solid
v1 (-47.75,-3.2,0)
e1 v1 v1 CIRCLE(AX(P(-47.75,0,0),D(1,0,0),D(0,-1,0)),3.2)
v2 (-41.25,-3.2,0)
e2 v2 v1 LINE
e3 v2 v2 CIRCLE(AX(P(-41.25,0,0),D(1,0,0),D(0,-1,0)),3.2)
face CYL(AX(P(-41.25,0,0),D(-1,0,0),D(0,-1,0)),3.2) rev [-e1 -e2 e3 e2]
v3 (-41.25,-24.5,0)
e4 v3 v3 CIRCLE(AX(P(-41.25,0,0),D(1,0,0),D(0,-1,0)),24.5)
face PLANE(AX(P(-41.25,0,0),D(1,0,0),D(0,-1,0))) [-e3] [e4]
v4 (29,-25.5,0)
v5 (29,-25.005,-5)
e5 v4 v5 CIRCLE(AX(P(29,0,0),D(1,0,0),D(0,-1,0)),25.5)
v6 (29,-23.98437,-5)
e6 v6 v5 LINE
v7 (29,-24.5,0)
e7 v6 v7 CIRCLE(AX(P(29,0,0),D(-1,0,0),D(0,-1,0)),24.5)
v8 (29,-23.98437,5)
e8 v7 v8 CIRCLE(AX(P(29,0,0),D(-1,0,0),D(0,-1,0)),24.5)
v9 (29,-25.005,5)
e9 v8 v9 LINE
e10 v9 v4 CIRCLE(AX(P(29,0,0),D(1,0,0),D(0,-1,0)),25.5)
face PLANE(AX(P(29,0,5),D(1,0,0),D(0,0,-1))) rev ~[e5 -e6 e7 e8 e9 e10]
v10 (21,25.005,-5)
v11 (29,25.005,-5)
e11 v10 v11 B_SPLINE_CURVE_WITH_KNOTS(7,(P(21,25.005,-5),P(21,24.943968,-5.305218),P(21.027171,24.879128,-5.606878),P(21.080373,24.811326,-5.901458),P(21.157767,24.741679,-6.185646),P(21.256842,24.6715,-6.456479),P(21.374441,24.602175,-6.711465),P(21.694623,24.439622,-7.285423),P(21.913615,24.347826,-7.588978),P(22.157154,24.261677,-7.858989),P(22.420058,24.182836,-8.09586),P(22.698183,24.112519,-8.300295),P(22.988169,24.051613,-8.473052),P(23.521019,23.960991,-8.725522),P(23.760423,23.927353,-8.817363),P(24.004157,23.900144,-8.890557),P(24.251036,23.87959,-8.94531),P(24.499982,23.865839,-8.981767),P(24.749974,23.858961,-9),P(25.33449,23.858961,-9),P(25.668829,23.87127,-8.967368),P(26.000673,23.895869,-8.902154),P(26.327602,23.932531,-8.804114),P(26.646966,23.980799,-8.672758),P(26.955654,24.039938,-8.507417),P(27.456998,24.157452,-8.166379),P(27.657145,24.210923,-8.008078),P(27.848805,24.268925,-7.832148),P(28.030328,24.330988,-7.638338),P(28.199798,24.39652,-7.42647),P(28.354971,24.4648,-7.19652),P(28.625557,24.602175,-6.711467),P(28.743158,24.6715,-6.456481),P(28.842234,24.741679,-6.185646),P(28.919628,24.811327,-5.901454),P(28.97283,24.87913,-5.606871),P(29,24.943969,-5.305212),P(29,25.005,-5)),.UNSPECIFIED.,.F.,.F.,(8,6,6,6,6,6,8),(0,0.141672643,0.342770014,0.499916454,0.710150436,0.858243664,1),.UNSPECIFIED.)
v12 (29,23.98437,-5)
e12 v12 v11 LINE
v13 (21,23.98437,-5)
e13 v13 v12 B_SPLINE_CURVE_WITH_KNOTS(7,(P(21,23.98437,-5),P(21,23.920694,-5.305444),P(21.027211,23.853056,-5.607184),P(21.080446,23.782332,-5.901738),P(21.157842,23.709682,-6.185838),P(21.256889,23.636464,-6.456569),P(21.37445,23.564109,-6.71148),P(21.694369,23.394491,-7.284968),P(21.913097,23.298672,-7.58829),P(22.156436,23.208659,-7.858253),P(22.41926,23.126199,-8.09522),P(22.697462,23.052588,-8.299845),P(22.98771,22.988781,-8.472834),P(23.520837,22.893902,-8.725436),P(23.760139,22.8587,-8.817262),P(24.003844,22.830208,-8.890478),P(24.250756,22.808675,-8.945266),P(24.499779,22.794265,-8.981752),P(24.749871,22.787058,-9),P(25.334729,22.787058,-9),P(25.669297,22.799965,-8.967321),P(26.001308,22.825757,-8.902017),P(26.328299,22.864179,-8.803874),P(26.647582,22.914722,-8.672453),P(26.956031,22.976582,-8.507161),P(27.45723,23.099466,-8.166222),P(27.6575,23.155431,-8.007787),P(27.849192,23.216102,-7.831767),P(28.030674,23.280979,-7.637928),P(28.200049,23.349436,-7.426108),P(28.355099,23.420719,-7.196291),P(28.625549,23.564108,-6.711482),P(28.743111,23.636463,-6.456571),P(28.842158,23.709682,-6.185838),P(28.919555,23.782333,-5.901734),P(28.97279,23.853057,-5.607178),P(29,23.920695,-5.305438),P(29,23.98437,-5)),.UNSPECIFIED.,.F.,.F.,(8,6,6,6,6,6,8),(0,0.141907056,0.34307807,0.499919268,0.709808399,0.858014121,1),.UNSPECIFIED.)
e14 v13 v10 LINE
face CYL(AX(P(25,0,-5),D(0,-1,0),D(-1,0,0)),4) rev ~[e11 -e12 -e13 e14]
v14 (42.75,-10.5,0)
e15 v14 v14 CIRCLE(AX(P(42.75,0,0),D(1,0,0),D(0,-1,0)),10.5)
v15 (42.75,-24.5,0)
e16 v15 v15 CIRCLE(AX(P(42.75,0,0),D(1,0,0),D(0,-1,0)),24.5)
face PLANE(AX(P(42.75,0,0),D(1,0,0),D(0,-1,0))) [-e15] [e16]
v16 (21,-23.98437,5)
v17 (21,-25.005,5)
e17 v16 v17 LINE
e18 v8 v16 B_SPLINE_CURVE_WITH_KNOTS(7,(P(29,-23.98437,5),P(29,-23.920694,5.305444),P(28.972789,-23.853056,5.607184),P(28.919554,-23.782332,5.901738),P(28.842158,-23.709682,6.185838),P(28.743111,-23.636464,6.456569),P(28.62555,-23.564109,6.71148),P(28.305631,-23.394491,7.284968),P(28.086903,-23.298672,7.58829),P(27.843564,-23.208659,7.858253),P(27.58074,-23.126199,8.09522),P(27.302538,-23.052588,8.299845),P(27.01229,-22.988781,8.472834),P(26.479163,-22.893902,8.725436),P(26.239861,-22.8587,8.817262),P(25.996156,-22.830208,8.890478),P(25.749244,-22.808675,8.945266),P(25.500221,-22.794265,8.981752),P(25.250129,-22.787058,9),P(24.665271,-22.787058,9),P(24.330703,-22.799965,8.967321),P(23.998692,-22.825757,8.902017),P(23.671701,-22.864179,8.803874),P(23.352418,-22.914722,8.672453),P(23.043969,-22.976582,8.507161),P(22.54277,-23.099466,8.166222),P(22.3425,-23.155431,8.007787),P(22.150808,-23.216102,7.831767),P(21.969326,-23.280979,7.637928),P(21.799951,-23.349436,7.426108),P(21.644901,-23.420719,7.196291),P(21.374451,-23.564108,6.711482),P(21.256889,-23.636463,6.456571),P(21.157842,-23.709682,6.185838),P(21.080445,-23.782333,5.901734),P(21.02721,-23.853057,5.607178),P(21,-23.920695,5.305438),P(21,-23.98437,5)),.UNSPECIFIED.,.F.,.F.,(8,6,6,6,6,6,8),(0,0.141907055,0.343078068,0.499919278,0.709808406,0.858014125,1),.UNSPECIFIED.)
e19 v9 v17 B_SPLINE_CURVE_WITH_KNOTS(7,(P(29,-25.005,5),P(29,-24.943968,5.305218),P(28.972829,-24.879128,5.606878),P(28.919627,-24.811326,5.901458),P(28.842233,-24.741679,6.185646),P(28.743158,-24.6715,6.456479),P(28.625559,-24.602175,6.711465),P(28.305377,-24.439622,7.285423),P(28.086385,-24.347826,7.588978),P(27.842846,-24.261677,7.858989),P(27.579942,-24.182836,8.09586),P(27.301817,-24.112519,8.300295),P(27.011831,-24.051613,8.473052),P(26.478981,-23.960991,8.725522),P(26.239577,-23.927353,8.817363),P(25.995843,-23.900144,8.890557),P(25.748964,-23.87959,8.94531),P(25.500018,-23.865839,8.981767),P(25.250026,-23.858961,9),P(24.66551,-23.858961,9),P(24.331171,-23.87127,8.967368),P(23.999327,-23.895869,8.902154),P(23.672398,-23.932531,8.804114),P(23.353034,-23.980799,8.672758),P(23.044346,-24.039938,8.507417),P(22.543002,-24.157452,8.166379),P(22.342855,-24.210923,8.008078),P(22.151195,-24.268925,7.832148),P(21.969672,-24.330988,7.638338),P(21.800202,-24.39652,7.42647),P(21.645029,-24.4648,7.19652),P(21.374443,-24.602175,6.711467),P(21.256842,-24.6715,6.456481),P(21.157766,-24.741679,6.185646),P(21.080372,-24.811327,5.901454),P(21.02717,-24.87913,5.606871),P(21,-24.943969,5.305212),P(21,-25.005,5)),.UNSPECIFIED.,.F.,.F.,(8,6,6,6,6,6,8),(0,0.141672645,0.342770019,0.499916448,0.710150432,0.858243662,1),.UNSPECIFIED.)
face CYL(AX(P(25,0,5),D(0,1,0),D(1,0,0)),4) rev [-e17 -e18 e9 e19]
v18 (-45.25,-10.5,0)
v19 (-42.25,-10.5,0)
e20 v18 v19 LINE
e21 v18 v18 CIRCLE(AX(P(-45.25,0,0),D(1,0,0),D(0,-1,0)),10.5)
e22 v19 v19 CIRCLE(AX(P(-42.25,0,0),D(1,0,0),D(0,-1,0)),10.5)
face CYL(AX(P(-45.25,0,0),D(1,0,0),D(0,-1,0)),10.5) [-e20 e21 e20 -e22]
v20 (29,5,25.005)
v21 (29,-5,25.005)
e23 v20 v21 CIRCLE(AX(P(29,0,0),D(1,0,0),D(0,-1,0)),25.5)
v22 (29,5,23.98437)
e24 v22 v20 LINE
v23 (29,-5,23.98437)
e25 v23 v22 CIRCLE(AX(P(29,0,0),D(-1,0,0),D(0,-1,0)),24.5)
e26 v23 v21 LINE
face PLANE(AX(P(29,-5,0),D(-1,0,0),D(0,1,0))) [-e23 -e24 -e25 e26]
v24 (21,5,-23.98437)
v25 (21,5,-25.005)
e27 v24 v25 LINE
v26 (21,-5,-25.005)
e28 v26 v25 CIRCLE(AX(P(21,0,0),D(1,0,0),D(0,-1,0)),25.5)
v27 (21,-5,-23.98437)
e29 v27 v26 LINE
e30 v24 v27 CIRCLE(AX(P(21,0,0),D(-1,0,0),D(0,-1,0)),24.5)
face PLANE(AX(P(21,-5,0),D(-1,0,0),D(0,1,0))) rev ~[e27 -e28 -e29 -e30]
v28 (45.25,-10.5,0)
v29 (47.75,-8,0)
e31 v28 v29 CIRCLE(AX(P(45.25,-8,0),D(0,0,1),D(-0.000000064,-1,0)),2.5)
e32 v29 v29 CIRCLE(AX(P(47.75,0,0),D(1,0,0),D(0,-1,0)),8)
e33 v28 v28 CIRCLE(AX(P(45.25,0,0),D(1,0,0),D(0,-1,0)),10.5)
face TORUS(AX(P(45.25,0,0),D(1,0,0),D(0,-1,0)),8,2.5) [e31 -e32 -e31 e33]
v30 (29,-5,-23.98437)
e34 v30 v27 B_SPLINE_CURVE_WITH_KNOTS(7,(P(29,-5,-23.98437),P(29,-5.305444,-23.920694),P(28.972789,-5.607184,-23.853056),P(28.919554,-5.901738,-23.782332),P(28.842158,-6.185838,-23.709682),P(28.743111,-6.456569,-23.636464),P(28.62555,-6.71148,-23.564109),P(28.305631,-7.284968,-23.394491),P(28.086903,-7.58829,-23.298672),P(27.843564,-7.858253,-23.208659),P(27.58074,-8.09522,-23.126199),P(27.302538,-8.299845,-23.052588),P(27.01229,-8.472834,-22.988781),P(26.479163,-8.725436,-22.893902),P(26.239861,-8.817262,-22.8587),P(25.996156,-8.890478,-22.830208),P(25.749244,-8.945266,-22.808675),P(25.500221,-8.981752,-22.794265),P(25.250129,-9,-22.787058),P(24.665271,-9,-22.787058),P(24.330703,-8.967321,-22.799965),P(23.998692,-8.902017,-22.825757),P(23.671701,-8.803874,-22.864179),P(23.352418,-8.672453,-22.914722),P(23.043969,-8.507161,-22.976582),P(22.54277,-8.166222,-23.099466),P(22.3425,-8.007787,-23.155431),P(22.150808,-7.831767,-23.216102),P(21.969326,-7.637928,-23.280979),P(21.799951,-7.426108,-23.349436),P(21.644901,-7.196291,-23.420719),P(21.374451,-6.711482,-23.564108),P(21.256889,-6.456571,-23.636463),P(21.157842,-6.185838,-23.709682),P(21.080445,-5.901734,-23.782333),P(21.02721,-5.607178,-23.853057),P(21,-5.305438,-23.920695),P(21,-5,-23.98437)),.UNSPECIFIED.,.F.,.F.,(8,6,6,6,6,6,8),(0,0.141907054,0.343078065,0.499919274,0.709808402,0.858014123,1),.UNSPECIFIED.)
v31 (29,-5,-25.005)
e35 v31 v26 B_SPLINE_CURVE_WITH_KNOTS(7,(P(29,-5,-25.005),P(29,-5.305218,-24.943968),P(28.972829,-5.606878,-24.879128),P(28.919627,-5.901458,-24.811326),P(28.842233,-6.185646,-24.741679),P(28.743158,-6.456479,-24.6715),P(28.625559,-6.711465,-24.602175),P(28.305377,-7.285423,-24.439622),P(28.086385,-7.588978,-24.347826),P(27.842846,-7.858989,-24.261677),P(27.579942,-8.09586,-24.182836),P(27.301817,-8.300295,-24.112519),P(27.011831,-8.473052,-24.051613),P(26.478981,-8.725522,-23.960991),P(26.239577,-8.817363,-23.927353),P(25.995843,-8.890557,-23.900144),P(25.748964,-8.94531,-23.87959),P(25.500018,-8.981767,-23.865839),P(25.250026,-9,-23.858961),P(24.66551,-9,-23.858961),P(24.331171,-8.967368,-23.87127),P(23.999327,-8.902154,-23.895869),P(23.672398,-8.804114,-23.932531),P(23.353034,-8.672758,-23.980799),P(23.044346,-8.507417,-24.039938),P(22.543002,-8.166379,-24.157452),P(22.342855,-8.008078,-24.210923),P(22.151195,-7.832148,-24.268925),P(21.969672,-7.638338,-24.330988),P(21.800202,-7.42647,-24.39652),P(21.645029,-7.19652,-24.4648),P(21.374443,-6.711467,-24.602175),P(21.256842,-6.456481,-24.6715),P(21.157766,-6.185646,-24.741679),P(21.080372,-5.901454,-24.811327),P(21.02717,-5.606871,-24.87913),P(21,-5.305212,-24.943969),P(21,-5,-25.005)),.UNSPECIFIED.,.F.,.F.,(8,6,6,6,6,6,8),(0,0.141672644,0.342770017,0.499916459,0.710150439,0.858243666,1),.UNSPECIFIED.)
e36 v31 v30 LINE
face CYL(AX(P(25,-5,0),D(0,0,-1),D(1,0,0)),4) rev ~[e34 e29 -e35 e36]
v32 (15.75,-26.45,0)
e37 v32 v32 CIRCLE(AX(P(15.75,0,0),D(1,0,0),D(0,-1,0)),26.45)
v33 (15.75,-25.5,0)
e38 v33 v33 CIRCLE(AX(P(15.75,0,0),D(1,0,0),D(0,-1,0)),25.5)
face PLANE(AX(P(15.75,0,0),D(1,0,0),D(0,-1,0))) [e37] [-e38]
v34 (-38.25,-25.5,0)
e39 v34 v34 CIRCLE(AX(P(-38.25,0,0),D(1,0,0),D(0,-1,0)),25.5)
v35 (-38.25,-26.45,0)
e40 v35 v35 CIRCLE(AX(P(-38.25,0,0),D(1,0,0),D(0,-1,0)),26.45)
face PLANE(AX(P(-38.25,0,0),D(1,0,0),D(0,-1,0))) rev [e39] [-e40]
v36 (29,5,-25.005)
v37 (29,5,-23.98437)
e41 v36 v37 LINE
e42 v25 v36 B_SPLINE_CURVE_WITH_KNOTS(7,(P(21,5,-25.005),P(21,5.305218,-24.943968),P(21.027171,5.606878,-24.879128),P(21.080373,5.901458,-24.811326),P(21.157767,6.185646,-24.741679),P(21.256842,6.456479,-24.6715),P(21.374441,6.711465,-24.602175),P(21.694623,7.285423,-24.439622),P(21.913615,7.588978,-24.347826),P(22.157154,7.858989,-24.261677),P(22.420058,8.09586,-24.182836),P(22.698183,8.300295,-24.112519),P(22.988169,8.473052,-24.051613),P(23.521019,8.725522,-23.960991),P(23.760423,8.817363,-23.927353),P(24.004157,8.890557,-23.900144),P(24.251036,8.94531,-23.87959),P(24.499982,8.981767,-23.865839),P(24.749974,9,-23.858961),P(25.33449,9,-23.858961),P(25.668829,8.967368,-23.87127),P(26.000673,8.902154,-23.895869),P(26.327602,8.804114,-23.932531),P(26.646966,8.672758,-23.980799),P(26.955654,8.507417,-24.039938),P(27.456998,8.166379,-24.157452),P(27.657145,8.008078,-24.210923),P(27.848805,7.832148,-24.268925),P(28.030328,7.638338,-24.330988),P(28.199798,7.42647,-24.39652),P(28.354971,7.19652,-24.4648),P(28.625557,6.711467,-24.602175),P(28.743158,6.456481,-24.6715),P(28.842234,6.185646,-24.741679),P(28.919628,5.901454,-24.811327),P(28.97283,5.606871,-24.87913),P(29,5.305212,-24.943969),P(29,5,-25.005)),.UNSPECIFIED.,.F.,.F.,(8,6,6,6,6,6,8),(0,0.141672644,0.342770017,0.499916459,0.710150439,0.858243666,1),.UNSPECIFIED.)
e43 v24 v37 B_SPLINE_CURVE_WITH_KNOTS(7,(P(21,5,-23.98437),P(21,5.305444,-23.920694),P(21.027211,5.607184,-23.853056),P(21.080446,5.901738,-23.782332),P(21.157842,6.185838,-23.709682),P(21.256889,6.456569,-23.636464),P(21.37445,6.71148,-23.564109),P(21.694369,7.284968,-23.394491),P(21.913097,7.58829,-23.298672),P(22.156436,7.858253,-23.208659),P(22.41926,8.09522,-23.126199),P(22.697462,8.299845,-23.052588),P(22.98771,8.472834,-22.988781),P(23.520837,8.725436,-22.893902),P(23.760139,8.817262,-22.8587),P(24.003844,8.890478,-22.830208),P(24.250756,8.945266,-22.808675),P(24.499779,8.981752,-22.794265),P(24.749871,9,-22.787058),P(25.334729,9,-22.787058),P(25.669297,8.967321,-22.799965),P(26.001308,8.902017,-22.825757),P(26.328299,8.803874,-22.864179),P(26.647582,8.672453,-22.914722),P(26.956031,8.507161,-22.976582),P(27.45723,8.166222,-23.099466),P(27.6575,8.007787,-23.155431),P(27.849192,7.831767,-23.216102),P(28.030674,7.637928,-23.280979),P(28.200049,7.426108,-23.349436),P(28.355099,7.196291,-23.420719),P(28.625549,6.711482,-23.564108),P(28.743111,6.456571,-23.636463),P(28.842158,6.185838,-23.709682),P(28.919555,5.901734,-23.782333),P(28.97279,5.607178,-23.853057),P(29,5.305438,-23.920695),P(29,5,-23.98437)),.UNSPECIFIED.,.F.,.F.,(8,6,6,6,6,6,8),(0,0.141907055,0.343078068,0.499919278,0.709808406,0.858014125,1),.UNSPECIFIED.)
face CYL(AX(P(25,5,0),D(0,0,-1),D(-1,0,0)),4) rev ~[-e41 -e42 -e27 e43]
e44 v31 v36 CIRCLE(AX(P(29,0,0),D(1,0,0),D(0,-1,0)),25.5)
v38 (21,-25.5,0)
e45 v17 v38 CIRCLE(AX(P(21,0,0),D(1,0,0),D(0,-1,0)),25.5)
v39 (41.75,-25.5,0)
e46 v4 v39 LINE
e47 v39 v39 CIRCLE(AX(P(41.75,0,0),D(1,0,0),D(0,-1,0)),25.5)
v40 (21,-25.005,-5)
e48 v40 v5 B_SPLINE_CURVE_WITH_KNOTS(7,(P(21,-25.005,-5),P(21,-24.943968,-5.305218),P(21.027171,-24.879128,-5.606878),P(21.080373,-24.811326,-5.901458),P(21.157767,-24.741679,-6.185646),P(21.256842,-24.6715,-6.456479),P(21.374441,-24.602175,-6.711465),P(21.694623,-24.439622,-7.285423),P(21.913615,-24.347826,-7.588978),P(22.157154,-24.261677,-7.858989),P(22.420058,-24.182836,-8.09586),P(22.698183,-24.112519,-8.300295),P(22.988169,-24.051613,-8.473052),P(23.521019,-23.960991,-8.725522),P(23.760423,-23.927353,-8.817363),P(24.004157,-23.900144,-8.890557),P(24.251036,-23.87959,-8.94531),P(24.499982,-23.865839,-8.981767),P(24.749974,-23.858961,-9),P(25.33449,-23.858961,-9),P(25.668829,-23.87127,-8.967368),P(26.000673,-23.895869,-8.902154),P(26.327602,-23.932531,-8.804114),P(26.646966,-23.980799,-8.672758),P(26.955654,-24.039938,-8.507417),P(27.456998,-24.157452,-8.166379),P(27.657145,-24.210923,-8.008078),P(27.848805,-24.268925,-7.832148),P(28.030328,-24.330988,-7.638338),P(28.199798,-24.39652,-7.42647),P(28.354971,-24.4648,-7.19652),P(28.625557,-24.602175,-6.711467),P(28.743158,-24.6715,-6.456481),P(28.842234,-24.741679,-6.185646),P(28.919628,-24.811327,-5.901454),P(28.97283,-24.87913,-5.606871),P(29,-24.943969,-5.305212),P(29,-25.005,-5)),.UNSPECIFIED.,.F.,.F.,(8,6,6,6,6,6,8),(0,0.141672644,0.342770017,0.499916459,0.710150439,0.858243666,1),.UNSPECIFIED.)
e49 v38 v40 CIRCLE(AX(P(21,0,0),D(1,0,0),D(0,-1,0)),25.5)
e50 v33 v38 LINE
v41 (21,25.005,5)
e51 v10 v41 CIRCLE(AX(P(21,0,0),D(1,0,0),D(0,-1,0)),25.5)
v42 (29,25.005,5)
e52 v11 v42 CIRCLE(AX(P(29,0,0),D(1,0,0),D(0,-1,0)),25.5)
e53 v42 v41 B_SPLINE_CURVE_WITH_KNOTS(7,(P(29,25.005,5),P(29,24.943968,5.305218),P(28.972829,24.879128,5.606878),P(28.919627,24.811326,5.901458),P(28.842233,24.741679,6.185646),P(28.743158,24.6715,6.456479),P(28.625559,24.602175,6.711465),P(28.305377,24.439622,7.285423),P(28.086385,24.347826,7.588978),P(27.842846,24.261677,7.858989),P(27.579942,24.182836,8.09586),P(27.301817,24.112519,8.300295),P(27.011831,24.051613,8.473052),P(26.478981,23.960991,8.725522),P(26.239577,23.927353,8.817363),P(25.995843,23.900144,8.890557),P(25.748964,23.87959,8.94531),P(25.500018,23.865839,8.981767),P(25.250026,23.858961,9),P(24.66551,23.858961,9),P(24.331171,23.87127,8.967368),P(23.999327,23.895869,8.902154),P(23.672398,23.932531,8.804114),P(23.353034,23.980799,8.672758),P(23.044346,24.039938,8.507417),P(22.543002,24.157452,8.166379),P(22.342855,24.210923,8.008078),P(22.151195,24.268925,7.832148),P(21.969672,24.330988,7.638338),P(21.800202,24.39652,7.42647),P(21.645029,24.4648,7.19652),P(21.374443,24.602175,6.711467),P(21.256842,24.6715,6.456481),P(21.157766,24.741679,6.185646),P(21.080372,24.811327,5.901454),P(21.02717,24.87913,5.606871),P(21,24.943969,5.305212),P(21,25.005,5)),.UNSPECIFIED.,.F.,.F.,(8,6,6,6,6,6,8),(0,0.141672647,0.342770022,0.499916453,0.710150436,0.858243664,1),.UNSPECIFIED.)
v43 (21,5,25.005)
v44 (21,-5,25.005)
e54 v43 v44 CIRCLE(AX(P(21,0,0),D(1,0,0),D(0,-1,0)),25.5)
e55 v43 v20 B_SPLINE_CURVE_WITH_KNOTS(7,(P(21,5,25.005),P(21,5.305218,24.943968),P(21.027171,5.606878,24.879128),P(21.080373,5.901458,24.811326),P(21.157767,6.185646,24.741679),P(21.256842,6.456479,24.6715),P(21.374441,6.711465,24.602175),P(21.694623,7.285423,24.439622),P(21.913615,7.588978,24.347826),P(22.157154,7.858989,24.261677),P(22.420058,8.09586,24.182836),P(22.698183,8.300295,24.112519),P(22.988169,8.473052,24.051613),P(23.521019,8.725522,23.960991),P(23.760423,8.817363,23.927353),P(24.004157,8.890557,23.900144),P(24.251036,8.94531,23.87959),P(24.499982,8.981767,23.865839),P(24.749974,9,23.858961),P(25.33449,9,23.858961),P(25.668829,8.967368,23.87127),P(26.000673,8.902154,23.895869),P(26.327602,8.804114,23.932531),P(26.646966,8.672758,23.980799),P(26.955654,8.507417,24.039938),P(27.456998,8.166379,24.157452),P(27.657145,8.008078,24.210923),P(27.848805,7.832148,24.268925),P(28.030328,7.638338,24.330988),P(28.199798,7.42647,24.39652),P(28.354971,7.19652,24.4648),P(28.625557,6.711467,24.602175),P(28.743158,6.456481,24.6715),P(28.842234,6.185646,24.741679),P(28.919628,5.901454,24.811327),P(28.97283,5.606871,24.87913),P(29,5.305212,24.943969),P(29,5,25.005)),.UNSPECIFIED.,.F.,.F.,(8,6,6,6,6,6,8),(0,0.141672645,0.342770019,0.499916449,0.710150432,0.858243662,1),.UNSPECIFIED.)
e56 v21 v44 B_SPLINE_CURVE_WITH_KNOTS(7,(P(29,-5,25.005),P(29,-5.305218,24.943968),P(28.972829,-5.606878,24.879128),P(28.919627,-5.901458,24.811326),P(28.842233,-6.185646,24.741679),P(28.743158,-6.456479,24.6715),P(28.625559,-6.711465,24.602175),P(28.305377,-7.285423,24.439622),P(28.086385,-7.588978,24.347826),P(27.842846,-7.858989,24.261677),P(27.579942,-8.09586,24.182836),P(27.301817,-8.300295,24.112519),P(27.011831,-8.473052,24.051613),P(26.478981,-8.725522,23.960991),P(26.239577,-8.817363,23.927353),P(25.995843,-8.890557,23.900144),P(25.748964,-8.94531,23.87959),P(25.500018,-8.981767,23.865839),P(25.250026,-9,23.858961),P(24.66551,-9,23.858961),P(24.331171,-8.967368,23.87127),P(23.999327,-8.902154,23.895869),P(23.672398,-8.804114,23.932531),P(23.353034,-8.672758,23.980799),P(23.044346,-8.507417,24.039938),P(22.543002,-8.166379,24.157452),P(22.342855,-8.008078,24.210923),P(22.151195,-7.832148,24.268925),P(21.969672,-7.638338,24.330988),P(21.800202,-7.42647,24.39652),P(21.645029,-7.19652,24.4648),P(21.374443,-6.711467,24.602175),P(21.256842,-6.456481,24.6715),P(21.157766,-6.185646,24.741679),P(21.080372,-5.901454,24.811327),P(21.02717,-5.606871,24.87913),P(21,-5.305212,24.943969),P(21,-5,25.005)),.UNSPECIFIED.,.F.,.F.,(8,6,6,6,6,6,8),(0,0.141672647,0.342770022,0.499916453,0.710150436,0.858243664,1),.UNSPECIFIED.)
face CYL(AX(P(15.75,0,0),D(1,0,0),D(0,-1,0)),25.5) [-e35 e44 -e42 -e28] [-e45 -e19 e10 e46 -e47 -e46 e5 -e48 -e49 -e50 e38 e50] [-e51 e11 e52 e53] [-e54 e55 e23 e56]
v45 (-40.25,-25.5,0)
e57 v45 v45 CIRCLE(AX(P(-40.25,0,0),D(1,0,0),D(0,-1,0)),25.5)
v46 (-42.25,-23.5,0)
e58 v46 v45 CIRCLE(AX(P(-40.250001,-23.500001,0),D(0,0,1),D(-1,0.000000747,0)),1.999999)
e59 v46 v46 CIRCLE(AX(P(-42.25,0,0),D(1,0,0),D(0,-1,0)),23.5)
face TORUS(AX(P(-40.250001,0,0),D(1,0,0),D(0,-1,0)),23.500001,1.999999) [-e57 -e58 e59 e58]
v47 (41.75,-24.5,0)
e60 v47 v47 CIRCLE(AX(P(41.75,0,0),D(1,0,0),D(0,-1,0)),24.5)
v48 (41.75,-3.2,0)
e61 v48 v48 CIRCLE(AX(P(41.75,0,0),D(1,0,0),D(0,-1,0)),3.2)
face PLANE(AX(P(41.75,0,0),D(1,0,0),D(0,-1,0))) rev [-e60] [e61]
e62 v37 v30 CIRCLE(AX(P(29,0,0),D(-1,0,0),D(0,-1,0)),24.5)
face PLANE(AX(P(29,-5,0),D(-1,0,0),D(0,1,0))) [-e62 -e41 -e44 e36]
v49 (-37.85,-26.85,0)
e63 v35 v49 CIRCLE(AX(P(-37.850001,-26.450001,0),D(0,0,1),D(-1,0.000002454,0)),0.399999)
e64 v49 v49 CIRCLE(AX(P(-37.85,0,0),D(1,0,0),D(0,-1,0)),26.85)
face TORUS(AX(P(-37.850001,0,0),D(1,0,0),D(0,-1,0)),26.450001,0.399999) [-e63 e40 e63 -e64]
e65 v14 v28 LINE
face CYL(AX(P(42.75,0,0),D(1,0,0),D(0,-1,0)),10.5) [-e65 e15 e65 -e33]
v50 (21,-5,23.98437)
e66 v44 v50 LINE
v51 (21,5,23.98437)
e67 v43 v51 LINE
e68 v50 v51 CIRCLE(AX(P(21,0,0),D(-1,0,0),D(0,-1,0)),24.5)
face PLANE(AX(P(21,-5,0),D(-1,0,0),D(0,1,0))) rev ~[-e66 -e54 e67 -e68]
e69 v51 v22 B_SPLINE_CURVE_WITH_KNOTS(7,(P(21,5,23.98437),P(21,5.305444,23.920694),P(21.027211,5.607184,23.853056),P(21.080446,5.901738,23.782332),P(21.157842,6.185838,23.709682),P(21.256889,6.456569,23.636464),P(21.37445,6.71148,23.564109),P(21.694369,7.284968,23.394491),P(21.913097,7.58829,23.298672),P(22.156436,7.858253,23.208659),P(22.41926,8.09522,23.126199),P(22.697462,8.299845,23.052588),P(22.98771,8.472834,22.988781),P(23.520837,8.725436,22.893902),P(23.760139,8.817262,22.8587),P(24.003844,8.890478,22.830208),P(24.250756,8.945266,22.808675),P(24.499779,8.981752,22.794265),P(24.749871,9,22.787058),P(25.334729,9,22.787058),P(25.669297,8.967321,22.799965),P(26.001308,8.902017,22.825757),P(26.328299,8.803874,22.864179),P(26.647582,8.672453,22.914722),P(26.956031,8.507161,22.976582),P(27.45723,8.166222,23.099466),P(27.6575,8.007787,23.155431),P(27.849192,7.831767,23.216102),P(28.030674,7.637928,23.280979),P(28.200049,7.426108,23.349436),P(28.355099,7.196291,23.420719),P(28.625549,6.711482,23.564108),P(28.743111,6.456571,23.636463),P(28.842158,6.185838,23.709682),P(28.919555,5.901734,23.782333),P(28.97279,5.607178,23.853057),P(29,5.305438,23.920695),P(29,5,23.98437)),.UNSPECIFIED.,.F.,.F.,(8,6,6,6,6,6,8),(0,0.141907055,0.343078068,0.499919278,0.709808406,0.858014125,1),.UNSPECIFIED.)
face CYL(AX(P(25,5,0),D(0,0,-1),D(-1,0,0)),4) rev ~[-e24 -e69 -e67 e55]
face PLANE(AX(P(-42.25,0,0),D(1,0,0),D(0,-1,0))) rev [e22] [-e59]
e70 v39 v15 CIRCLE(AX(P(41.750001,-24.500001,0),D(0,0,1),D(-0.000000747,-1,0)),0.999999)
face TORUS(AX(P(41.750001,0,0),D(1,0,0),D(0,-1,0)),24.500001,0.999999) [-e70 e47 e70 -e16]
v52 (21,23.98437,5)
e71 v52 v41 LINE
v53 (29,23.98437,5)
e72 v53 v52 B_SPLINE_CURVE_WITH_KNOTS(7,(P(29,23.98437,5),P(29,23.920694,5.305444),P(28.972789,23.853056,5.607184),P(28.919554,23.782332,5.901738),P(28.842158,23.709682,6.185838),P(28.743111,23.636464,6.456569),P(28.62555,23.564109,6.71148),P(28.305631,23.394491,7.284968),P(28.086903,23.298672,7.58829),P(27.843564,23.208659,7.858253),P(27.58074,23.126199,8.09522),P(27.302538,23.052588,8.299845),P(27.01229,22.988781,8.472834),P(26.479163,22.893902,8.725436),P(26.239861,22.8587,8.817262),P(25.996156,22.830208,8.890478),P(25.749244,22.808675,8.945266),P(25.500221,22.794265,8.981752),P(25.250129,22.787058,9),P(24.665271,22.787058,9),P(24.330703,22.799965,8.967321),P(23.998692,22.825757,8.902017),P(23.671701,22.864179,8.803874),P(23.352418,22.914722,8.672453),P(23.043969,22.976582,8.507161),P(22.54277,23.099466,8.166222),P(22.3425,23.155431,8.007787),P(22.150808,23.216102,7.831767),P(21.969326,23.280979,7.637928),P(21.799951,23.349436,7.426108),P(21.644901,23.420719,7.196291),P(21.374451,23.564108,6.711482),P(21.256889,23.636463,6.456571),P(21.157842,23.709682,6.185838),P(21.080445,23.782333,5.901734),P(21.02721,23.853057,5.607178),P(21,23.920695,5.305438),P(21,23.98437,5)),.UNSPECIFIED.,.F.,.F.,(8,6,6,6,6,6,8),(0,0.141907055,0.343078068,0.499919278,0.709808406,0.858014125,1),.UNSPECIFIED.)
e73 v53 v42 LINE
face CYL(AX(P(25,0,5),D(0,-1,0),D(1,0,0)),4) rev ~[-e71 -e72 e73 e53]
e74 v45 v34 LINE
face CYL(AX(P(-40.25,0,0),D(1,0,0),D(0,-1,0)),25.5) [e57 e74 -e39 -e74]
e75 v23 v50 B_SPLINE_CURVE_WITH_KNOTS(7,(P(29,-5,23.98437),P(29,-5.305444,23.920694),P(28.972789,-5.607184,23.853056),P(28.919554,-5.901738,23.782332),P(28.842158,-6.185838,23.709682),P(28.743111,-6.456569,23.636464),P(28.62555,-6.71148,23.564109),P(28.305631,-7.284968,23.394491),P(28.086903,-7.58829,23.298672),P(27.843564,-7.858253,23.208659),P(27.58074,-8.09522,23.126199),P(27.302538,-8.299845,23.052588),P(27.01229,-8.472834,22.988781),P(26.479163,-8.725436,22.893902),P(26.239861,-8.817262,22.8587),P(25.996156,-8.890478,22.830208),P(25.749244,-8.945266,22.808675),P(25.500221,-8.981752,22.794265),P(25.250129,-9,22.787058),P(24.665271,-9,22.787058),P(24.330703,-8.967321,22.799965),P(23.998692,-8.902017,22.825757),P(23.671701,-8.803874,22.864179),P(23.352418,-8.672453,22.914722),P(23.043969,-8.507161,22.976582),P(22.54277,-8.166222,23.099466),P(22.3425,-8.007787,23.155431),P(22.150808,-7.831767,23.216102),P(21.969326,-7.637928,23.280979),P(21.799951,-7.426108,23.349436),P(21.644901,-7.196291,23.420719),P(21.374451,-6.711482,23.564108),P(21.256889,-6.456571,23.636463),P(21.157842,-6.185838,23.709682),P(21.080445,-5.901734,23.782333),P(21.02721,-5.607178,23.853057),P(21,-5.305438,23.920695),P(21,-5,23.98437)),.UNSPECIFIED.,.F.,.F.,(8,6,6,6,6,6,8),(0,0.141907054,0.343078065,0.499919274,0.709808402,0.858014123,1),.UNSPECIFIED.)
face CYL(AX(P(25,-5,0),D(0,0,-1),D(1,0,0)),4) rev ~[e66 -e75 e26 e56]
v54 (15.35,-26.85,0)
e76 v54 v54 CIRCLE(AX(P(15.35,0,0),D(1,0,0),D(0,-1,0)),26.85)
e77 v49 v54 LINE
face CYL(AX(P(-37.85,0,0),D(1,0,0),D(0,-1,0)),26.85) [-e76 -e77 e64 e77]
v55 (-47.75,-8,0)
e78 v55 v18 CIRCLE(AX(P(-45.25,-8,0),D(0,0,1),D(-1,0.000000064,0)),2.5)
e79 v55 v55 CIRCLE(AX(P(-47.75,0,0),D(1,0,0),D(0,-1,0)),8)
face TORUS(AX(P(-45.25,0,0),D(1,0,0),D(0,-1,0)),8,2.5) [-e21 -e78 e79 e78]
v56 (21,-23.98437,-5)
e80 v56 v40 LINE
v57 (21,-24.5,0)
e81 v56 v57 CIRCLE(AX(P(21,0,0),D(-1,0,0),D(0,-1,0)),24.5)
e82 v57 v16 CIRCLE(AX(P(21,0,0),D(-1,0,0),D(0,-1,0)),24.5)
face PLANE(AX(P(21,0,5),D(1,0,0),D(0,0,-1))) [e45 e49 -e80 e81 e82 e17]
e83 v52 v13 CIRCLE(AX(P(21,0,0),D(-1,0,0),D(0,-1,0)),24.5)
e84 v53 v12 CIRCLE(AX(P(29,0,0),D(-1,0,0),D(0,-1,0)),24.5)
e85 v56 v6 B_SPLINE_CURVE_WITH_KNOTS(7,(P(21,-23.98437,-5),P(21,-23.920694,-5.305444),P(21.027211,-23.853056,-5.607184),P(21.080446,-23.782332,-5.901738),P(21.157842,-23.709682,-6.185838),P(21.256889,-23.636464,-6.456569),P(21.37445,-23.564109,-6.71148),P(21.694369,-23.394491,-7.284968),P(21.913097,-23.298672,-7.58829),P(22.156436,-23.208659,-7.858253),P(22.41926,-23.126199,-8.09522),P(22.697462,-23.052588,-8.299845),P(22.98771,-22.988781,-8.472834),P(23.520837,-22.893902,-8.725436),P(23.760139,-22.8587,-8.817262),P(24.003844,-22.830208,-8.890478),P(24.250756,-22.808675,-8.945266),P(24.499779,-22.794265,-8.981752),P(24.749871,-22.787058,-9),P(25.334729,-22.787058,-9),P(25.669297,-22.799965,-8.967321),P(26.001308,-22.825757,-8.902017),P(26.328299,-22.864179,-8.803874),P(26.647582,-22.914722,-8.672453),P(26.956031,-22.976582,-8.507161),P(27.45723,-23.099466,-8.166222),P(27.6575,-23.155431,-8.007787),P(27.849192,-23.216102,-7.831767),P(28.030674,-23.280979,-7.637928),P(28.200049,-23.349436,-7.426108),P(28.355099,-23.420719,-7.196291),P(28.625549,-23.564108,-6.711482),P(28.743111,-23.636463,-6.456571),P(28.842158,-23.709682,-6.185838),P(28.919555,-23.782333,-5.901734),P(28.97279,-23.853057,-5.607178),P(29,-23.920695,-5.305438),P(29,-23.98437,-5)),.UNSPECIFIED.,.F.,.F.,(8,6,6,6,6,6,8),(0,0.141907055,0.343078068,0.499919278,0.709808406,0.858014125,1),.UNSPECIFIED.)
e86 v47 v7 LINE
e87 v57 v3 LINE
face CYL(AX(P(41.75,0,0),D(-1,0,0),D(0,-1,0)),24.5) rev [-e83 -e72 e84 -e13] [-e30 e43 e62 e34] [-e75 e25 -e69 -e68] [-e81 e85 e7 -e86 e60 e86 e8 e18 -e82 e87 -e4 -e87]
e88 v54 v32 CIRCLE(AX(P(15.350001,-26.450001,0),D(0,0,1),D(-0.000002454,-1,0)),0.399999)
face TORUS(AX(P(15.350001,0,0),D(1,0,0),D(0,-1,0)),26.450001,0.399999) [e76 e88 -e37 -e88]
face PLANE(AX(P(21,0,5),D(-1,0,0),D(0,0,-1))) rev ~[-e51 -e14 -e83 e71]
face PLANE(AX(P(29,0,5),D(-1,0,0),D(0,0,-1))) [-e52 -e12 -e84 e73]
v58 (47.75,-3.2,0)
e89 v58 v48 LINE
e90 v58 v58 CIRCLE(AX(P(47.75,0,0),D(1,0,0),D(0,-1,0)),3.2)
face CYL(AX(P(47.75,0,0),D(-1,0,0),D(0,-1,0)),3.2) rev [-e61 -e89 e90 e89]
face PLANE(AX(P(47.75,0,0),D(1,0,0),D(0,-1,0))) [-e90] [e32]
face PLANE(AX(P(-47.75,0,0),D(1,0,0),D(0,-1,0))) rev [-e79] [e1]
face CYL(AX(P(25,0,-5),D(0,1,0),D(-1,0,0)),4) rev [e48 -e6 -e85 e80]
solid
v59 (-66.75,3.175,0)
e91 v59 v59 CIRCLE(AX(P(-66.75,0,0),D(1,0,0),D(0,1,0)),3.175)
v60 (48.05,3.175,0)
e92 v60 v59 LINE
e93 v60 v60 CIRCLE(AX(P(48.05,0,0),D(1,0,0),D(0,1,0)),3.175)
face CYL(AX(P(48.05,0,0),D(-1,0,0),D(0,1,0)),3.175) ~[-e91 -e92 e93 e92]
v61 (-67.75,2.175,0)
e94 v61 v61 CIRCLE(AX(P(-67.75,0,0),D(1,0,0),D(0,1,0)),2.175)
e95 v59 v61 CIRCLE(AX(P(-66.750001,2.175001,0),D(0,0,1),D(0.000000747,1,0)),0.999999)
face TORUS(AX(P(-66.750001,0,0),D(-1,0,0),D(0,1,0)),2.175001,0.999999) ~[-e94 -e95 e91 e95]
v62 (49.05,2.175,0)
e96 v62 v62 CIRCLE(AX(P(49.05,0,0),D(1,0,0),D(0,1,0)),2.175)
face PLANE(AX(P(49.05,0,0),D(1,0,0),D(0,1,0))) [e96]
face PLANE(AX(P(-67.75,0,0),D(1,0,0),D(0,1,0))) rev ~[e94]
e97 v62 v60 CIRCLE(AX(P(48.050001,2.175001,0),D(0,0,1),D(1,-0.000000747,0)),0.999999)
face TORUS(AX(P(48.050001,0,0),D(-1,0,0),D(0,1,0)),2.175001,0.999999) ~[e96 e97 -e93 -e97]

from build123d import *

# Parameters (mm, degrees)
POCKET_DEPTH       = 270.880752
POCKET_DEPTH_BACK  = 270.880752
POLARPATTERN_COUNT = 2
POLARPATTERN_ANGLE = 90


with BuildPart() as body:
    # Sketch003 → Revolution (revolve)
    with BuildSketch(Plane.XY):
        with BuildLine():
            Line((-47.75, -3.2), (-47.75, -8))
            ThreePointArc((-47.75, -8), (-47.017767, -9.767767), (-45.25, -10.5))
            Line((-45.25, -10.5), (-42.25, -10.5))
            Line((-42.25, -10.5), (-42.25, -23.5))
            ThreePointArc((-42.25, -23.5), (-41.664214, -24.914214), (-40.25, -25.5))
            Line((-40.25, -25.5), (-38.25, -25.5))
            Line((-38.25, -25.5), (-38.25, -26.45))
            ThreePointArc((-38.25, -26.45), (-38.132843, -26.732843), (-37.85, -26.85))
            Line((-37.85, -26.85), (15.35, -26.85))
            ThreePointArc((15.35, -26.85), (15.632843, -26.732843), (15.75, -26.45))
            Line((15.75, -26.45), (15.75, -25.5))
            Line((15.75, -25.5), (41.75, -25.5))
            ThreePointArc((41.75, -25.5), (42.457107, -25.207107), (42.75, -24.5))
            Line((42.75, -24.5), (42.75, -10.5))
            Line((42.75, -10.5), (45.25, -10.5))
            ThreePointArc((45.25, -10.5), (47.017767, -9.767767), (47.75, -8))
            Line((47.75, -8), (47.75, -3.2))
            Line((47.75, -3.2), (41.75, -3.2))
            Line((41.75, -3.2), (41.75, -24.5))
            Line((41.75, -24.5), (-41.25, -24.5))
            Line((-41.25, -24.5), (-41.25, -3.2))
            Line((-41.25, -3.2), (-47.75, -3.2))
        make_face()
    revolve(axis=Axis((0, 0, 0), (1, 0, 0)))

    # Sketch → Pocket (cut, two sides)
    with BuildSketch(Plane.XZ) as pocket_sk:
        with BuildLine():
            ThreePointArc((29, 5), (25, 9), (21, 5))
            Line((21, 5), (21, -5))
            ThreePointArc((21, -5), (25, -9), (29, -5))
            Line((29, 5), (29, -5))
        make_face()
    pocket = extrude(amount=-POCKET_DEPTH, mode=Mode.SUBTRACT) + extrude(pocket_sk.sketch, amount=POCKET_DEPTH_BACK, mode=Mode.SUBTRACT)

    # PolarPattern: Pocket ×2 about axis
    polarpattern_axis = Axis((0, 0, 0), (1, 0, 0))
    for i in range(1, POLARPATTERN_COUNT):
        add(pocket.rotate(polarpattern_axis, i * POLARPATTERN_ANGLE / (POLARPATTERN_COUNT - 1)), mode=Mode.SUBTRACT)


with BuildPart() as axis:
    # Sketch004 → Revolution001 (revolve)
    with BuildSketch(Plane.XY):
        with BuildLine():
            Line((-67.75, 0), (49.05, 0))
            Line((49.05, 2.175), (49.05, 0))
            ThreePointArc((49.05, 2.175), (48.757107, 2.882107), (48.05, 3.175))
            Line((48.05, 3.175), (-66.75, 3.175))
            ThreePointArc((-66.75, 3.175), (-67.457107, 2.882107), (-67.75, 2.175))
            Line((-67.75, 2.175), (-67.75, 0))
        make_face()
    revolve(axis=Axis((0, 0, 0), (1, 0, 0)))


solid = Compound([body.part, axis.part])
